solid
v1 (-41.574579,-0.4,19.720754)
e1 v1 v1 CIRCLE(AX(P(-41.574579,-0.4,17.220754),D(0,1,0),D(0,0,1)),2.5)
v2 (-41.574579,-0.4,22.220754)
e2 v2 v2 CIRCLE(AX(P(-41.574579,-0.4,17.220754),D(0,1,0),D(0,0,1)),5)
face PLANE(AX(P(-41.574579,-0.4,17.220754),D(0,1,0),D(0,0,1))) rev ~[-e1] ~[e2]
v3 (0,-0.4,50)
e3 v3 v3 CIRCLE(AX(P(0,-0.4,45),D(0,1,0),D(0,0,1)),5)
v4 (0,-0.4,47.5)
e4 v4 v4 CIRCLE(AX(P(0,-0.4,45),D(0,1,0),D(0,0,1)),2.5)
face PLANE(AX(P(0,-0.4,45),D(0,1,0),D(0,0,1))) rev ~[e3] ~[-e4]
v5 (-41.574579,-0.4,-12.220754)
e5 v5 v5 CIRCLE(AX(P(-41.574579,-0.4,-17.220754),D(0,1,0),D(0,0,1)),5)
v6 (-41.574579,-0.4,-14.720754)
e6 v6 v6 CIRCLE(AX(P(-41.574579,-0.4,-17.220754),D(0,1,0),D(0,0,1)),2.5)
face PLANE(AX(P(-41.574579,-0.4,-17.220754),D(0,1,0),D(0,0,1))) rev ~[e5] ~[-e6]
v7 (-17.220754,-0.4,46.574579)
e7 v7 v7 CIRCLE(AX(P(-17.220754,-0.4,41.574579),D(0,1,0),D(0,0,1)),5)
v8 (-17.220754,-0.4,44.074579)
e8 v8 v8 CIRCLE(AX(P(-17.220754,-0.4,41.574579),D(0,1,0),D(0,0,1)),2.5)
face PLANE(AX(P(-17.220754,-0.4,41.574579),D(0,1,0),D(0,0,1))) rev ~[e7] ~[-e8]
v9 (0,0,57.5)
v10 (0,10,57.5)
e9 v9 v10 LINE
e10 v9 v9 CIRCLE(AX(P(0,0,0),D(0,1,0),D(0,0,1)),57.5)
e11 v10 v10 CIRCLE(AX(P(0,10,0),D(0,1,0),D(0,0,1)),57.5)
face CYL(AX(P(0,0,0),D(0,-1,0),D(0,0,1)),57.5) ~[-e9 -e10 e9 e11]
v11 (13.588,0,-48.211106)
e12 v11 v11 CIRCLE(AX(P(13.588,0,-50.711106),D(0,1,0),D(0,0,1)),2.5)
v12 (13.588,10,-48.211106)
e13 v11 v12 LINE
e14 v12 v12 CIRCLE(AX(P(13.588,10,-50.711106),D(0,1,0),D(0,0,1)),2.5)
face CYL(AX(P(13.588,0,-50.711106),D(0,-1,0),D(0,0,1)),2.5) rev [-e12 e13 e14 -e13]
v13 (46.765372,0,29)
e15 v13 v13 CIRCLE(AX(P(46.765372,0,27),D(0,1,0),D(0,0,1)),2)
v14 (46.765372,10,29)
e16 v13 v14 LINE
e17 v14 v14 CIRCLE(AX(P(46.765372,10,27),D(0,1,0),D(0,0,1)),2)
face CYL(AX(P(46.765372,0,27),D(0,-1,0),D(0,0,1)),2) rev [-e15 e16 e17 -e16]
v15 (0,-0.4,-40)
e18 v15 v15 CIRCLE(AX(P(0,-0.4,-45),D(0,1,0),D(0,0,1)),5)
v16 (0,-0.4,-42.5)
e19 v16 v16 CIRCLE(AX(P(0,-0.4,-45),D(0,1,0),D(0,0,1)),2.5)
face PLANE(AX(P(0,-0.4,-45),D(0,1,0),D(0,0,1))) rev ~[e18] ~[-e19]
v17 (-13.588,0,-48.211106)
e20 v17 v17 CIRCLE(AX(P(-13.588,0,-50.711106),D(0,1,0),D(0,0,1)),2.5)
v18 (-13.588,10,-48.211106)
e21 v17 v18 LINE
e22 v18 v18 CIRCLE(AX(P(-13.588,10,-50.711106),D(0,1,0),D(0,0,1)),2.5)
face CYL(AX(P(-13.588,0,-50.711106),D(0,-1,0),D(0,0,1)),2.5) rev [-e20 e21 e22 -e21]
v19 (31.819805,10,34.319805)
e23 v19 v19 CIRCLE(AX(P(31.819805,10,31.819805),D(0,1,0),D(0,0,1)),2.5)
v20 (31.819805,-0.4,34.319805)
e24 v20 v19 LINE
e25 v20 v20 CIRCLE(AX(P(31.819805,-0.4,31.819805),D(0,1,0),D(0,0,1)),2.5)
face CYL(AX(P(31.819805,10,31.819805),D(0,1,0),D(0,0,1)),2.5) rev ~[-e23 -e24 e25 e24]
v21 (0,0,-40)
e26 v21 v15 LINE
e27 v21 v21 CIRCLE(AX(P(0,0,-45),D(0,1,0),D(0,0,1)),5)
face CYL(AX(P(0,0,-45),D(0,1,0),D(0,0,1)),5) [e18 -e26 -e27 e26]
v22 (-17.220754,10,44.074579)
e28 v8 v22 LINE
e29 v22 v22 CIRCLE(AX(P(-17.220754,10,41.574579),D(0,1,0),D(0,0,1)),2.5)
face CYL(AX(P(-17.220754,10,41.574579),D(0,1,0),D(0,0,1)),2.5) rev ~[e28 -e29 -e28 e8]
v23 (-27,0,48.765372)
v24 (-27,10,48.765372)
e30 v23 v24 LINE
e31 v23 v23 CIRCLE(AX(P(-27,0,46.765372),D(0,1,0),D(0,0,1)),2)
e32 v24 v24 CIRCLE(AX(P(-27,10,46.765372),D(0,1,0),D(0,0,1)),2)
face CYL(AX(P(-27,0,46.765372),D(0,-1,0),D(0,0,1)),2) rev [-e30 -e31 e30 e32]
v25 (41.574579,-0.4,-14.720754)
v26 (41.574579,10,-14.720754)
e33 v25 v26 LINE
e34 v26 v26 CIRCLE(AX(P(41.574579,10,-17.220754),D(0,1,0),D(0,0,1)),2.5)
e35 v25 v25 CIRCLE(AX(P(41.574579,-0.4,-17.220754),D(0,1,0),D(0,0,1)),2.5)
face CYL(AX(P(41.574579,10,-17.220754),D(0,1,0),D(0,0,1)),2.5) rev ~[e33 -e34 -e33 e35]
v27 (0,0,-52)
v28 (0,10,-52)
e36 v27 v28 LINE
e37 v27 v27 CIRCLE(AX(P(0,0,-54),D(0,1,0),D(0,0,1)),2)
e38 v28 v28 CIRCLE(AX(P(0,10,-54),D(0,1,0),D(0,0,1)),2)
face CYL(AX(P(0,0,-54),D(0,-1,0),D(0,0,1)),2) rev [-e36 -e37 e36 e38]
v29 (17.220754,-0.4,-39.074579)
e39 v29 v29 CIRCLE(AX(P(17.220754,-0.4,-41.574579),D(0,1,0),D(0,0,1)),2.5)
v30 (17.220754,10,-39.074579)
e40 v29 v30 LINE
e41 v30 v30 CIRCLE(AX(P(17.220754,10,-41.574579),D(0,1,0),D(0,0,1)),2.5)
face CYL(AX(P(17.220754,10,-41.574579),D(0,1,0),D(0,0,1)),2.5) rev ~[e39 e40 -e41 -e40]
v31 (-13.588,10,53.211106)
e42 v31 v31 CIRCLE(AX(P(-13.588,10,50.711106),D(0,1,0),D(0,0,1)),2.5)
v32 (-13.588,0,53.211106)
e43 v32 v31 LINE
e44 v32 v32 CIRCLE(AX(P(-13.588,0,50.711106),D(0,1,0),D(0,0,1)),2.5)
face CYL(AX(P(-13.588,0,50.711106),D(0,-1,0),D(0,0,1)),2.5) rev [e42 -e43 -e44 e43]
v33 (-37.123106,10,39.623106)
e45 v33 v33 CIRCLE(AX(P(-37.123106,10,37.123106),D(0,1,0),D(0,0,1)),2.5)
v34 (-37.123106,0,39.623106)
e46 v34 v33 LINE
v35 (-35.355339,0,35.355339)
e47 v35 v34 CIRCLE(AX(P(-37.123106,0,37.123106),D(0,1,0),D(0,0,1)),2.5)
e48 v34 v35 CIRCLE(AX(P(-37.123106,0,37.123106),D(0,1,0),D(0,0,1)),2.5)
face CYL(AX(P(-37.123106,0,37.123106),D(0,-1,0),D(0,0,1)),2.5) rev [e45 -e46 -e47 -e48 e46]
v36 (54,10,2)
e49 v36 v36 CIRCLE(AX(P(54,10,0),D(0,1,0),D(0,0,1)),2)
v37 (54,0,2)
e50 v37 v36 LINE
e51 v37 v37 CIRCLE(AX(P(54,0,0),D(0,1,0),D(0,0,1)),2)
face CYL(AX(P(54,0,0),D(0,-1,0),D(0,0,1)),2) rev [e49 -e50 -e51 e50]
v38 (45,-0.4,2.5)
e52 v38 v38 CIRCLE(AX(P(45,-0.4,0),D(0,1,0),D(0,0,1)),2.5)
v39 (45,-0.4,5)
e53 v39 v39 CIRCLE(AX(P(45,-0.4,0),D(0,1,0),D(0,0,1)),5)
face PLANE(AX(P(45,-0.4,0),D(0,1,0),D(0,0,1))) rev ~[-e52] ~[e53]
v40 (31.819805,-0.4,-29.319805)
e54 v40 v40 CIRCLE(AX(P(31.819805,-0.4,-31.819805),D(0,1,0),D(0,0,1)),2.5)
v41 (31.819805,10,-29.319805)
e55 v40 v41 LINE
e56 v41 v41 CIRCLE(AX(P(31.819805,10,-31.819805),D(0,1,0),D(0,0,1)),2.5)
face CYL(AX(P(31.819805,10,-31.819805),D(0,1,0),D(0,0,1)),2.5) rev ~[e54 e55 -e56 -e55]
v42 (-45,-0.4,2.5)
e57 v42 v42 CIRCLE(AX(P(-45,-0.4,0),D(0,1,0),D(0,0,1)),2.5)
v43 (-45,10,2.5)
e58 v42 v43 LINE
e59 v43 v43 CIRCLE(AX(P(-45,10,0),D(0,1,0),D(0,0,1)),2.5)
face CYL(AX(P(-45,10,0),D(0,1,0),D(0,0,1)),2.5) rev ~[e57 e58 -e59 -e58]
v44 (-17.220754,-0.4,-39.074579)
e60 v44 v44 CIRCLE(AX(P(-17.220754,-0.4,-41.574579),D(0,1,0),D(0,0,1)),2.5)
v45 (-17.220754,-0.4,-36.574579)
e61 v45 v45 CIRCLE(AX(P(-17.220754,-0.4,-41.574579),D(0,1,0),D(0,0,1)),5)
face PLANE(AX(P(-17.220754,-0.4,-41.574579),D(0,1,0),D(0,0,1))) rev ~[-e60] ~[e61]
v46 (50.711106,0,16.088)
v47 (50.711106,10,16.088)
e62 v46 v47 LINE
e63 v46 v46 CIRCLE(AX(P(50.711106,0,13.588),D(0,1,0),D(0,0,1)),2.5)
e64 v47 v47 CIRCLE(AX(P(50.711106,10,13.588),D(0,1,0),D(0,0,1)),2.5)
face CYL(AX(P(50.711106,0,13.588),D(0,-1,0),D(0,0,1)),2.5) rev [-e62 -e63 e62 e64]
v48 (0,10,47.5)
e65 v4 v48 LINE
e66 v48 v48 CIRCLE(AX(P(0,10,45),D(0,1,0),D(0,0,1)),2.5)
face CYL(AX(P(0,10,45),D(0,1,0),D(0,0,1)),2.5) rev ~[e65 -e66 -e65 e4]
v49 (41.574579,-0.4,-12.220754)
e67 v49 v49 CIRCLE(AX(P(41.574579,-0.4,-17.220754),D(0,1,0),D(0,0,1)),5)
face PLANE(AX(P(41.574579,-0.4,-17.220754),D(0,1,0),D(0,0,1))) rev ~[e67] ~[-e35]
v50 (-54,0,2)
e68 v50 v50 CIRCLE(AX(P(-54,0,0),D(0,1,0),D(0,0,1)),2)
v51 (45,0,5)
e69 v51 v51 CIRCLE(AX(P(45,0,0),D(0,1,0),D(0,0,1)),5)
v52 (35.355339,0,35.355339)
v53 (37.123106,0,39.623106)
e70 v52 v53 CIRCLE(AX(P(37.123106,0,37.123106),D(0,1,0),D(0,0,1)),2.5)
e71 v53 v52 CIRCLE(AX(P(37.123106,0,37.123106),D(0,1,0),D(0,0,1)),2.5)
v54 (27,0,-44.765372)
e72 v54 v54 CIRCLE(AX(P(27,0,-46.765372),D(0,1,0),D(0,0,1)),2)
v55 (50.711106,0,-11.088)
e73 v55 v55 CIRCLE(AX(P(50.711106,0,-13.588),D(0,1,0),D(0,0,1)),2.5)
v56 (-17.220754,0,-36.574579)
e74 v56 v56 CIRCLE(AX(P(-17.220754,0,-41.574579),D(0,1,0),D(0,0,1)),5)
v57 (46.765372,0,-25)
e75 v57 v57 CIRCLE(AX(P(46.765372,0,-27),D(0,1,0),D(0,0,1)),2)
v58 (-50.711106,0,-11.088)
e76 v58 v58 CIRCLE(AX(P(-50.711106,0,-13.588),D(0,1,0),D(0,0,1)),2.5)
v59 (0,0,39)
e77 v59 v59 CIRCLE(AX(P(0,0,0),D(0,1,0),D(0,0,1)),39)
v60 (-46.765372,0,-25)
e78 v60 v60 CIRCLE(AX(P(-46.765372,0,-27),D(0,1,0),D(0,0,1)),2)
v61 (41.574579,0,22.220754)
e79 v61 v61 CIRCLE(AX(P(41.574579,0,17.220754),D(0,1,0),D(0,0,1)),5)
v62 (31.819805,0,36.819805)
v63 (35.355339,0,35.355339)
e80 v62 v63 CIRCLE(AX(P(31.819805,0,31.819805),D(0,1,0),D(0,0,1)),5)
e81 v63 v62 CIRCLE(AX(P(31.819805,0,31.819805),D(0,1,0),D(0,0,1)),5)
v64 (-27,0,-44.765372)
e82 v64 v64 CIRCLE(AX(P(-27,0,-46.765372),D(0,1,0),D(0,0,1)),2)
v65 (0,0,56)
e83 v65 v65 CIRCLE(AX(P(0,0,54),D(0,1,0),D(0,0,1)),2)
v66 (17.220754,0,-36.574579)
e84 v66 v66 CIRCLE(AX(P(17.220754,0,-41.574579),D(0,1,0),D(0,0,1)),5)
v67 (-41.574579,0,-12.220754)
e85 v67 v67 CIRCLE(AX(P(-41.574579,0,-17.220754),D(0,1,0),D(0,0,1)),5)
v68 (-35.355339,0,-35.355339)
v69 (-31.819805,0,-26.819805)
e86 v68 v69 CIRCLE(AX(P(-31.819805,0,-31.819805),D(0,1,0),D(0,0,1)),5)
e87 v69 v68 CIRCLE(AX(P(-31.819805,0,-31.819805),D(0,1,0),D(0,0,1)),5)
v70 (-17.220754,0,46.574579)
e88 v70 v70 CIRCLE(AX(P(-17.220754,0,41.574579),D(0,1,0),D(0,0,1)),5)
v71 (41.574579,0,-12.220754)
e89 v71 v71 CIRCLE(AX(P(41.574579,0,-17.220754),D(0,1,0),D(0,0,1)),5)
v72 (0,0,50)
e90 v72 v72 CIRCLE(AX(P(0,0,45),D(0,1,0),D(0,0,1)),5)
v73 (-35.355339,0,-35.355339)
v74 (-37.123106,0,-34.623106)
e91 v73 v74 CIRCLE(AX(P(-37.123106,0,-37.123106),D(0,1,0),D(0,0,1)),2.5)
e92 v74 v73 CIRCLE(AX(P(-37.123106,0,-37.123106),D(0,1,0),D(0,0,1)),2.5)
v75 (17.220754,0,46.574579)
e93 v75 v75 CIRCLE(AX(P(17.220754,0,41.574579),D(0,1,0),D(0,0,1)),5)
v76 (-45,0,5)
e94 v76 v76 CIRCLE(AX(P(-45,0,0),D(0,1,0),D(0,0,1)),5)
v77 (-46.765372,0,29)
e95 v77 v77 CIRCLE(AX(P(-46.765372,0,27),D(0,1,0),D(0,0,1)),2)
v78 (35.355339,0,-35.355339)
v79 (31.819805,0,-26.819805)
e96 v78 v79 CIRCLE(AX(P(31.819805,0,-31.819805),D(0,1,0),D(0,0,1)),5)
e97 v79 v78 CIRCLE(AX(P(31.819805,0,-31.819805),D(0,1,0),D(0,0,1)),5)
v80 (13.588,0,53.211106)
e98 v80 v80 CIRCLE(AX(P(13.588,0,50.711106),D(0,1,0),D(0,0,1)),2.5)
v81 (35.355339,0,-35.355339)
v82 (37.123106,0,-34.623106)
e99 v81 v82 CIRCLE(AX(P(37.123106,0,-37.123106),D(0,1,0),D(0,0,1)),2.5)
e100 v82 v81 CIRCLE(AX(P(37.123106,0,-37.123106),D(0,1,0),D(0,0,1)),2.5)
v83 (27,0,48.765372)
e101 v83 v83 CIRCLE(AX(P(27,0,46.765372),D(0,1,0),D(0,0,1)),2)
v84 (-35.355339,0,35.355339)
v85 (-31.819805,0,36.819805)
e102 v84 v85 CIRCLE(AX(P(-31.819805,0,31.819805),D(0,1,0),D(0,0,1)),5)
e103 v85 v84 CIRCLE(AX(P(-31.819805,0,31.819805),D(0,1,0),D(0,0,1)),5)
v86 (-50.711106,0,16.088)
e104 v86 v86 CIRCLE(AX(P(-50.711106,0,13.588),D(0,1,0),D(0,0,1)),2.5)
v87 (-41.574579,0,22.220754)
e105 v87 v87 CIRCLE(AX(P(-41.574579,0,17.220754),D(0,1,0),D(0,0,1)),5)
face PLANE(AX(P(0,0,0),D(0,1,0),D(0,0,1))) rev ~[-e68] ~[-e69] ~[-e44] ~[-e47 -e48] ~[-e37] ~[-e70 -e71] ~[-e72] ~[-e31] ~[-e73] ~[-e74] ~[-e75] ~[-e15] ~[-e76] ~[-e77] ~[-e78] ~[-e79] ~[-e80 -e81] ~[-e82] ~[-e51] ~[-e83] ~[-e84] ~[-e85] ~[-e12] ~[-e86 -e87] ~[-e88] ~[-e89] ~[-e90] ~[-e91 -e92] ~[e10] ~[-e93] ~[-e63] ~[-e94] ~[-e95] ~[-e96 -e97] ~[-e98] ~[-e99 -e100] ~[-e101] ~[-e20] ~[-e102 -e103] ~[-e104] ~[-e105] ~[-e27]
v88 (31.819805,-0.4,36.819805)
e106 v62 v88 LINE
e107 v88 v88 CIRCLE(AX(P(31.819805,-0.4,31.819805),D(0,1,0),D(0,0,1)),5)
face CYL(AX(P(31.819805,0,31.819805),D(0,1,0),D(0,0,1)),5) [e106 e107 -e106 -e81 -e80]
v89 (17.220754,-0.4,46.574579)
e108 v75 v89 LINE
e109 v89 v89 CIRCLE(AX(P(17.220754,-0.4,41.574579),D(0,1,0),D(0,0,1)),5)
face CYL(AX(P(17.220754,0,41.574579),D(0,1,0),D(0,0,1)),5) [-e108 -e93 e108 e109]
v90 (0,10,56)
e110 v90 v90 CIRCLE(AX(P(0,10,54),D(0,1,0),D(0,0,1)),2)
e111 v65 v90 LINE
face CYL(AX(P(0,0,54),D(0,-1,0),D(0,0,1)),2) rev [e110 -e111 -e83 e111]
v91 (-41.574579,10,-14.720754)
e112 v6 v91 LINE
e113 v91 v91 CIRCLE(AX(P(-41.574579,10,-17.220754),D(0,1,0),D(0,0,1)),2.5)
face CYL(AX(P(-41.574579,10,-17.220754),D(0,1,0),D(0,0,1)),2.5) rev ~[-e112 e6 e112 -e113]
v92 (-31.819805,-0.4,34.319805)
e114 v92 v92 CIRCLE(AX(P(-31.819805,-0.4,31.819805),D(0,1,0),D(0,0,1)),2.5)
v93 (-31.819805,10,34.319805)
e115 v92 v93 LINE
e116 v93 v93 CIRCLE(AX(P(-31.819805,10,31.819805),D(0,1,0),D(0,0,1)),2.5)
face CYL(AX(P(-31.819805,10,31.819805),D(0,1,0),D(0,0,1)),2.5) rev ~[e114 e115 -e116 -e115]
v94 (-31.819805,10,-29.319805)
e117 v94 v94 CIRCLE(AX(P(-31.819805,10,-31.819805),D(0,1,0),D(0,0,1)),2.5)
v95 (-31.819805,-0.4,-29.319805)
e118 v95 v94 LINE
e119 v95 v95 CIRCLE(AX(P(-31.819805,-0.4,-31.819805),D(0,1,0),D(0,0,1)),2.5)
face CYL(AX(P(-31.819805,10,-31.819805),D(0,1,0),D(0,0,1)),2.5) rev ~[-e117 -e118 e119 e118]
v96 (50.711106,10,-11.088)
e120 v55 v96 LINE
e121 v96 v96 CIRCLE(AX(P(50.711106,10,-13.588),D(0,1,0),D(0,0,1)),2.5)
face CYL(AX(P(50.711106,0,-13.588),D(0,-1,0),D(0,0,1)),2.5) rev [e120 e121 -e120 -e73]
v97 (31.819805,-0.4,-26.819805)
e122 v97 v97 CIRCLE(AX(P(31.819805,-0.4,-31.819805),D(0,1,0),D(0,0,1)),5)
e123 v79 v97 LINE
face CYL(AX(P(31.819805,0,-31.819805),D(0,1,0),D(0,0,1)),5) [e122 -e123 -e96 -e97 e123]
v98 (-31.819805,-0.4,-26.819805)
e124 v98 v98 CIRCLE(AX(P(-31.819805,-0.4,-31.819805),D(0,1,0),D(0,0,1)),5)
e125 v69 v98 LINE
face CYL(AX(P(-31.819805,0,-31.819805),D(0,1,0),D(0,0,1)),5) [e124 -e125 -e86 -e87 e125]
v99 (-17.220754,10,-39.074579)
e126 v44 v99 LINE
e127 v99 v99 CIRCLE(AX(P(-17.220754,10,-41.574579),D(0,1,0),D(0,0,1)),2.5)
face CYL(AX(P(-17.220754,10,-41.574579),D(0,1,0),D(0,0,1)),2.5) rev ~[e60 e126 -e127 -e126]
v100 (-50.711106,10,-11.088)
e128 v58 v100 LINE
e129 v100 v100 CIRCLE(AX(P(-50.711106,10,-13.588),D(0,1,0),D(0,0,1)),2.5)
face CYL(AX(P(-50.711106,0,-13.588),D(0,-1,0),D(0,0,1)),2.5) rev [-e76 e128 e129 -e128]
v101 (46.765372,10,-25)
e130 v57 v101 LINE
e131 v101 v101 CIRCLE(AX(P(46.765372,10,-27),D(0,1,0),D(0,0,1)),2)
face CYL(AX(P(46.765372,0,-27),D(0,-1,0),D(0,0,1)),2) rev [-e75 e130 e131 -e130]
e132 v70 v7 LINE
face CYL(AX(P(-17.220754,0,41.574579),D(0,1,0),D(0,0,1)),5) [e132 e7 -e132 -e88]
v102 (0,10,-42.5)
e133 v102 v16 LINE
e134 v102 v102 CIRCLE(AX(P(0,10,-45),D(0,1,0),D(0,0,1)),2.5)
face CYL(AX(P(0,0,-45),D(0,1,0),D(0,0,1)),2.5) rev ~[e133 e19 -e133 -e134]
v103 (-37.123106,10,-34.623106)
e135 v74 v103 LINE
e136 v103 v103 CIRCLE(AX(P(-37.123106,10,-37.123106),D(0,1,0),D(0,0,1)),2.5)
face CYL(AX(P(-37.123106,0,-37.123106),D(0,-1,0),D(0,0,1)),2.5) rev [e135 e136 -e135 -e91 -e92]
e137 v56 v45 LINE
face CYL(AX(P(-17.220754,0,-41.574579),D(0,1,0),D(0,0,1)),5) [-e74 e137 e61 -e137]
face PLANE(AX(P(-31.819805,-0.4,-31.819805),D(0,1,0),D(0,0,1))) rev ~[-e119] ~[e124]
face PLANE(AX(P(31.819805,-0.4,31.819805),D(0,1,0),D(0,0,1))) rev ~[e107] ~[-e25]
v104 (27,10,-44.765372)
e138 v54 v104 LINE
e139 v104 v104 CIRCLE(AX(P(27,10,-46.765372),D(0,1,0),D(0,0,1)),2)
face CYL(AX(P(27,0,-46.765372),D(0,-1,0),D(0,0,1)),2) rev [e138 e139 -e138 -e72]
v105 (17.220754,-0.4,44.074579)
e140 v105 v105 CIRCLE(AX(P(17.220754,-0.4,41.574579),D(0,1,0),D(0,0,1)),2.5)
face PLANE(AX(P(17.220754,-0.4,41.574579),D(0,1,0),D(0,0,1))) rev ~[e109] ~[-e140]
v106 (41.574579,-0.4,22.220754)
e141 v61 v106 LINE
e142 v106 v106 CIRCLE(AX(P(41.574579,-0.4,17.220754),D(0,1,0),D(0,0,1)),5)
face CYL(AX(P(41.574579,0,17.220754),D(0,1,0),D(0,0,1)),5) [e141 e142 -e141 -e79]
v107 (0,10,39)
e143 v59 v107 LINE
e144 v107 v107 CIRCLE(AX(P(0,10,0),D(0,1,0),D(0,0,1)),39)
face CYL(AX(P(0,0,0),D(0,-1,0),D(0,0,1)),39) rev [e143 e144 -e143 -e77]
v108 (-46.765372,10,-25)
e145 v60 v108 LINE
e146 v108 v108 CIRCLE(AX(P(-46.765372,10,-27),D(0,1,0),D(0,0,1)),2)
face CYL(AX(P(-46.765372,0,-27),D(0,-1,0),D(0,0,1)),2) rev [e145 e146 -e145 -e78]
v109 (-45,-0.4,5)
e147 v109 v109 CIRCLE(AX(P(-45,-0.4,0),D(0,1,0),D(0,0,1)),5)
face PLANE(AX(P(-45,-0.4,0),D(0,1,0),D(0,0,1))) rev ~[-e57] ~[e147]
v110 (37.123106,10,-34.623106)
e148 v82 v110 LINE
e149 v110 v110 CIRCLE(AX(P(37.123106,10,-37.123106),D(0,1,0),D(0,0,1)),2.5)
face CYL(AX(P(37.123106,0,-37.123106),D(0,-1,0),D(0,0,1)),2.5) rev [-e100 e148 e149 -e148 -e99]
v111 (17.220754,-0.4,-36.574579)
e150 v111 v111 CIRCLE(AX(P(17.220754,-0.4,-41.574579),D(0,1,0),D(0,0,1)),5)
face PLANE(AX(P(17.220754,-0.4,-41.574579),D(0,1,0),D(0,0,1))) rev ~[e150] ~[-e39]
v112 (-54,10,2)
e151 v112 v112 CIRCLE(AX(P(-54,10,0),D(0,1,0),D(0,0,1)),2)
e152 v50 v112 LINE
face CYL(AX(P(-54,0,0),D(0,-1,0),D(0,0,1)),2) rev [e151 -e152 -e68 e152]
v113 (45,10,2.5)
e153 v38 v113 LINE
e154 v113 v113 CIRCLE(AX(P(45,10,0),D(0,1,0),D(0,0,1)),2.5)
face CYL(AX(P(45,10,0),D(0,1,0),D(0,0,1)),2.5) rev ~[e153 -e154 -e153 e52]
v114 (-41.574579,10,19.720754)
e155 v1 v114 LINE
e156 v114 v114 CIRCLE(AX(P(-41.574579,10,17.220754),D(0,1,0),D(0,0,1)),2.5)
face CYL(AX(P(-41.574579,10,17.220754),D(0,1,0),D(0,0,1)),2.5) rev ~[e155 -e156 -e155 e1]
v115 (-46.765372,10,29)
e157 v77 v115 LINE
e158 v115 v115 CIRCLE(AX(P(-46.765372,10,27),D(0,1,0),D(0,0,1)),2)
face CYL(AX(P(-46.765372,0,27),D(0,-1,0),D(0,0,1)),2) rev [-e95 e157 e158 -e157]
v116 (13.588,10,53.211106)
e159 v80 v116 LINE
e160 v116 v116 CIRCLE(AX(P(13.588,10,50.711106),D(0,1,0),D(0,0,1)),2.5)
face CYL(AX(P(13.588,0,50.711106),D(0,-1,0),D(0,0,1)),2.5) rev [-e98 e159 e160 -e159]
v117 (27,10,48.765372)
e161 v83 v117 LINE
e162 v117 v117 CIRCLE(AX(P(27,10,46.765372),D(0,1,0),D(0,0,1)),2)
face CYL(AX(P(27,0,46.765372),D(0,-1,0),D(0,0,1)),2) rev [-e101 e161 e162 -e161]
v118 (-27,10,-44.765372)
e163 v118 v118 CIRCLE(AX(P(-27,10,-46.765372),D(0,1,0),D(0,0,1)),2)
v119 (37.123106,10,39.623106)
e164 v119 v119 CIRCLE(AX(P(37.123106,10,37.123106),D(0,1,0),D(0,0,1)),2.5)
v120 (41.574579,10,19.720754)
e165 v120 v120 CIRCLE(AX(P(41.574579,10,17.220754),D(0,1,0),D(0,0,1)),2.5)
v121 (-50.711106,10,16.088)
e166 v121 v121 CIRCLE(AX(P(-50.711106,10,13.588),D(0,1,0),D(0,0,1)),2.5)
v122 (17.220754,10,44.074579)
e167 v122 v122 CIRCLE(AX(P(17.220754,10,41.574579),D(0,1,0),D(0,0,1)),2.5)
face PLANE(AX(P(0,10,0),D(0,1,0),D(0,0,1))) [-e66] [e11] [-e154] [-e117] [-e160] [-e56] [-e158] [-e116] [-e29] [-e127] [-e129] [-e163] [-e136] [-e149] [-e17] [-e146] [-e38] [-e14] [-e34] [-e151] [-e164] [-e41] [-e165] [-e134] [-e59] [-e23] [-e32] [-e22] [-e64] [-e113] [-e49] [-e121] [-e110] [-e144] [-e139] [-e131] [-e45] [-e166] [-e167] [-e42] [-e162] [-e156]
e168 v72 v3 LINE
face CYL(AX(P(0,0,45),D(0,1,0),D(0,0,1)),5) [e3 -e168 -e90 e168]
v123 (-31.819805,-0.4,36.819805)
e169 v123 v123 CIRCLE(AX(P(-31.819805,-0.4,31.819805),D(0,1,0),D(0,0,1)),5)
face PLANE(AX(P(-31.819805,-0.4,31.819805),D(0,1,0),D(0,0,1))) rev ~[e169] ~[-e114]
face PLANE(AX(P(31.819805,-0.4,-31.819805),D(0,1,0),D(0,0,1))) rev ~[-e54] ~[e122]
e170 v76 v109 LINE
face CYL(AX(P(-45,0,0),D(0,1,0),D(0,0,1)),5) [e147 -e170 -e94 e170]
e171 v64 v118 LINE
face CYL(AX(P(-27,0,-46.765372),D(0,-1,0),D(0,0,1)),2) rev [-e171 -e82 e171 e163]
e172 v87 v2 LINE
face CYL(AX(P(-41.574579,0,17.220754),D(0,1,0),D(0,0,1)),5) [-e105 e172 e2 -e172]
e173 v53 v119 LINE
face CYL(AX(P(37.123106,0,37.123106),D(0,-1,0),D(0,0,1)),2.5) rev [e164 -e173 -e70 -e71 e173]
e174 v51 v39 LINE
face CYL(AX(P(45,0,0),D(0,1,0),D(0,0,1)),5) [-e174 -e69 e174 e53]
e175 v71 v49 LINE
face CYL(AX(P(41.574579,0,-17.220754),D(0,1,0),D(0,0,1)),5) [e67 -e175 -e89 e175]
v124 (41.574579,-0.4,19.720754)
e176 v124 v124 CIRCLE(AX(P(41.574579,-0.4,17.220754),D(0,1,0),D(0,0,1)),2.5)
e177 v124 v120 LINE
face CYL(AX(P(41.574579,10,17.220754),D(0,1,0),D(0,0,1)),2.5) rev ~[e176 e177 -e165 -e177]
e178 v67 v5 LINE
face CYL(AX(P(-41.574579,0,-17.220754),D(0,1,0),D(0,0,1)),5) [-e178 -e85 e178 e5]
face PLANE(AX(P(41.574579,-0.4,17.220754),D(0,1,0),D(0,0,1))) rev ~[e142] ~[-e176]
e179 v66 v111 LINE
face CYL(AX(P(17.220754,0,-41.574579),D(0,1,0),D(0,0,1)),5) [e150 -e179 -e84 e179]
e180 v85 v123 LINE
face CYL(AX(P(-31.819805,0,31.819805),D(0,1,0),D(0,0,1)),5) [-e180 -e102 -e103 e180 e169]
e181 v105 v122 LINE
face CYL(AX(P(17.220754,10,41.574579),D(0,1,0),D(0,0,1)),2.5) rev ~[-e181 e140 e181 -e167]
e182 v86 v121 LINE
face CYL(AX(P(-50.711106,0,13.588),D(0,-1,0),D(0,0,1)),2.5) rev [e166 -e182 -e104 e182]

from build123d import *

# Parameters (mm, degrees)
SKETCH1_R           = 57.5
SKETCH1_R_2         = 39
SKETCH1_R_3         = 2
SKETCH1_R_4         = 2.5
BOSS_EXTRUDE1_DEPTH = 10
SKETCH2_R           = 2.5
CUT_EXTRUDE1_DEPTH  = 10
SKETCH4_R           = 5
SKETCH4_R_2         = 2.5
BOSS_EXTRUDE3_DEPTH = 0.4


with BuildPart() as part:
    # Sketch1 → Boss-Extrude1 (new body)
    with BuildSketch(Plane(origin=(0, 0, 0), x_dir=(1, 0, 0), z_dir=(0, 1, 0))):
        with Locations(Location((0, 0, 0), (0, 0, 270))):
            Circle(SKETCH1_R)
        with Locations(Location((0, 0, 0), (0, 0, 270))):
            Circle(SKETCH1_R_2, mode=Mode.SUBTRACT)
        with Locations(Location((0, 54, 0), (0, 0, 270))):
            Circle(SKETCH1_R_3, mode=Mode.SUBTRACT)
        with Locations(Location((27, 46.765371804, 0), (0, 0, 270))):
            Circle(SKETCH1_R_3, mode=Mode.SUBTRACT)
        with Locations(Location((46.765371804, 27, 0), (0, 0, 270))):
            Circle(SKETCH1_R_3, mode=Mode.SUBTRACT)
        with Locations(Location((54, 0, 0), (0, 0, 270))):
            Circle(SKETCH1_R_3, mode=Mode.SUBTRACT)
        with Locations(Location((46.765371804, -27, 0), (0, 0, 270))):
            Circle(SKETCH1_R_3, mode=Mode.SUBTRACT)
        with Locations(Location((27, -46.765371804, 0), (0, 0, 270))):
            Circle(SKETCH1_R_3, mode=Mode.SUBTRACT)
        with Locations(Location((0, -54, 0), (0, 0, 270))):
            Circle(SKETCH1_R_3, mode=Mode.SUBTRACT)
        with Locations(Location((-27, -46.765371804, 0), (0, 0, 270))):
            Circle(SKETCH1_R_3, mode=Mode.SUBTRACT)
        with Locations(Location((-46.765371804, -27, 0), (0, 0, 270))):
            Circle(SKETCH1_R_3, mode=Mode.SUBTRACT)
        with Locations(Location((-54, 0, 0), (0, 0, 270))):
            Circle(SKETCH1_R_3, mode=Mode.SUBTRACT)
        with Locations(Location((-46.765371804, 27, 0), (0, 0, 270))):
            Circle(SKETCH1_R_3, mode=Mode.SUBTRACT)
        with Locations(Location((-27, 46.765371804, 0), (0, 0, 270))):
            Circle(SKETCH1_R_3, mode=Mode.SUBTRACT)
        with Locations(Location((13.587999868, 50.71110588, 0), (0, 0, 270))):
            Circle(SKETCH1_R_4, mode=Mode.SUBTRACT)
        with Locations(Location((37.123106012, 37.123106012, 0), (0, 0, 270))):
            Circle(SKETCH1_R_4, mode=Mode.SUBTRACT)
        with Locations(Location((50.71110588, 13.587999868, 0), (0, 0, 270))):
            Circle(SKETCH1_R_4, mode=Mode.SUBTRACT)
        with Locations(Location((50.71110588, -13.587999868, 0), (0, 0, 270))):
            Circle(SKETCH1_R_4, mode=Mode.SUBTRACT)
        with Locations(Location((37.123106012, -37.123106012, 0), (0, 0, 270))):
            Circle(SKETCH1_R_4, mode=Mode.SUBTRACT)
        with Locations(Location((13.587999868, -50.71110588, 0), (0, 0, 270))):
            Circle(SKETCH1_R_4, mode=Mode.SUBTRACT)
        with Locations(Location((-13.587999868, -50.71110588, 0), (0, 0, 270))):
            Circle(SKETCH1_R_4, mode=Mode.SUBTRACT)
        with Locations(Location((-37.123106012, -37.123106012, 0), (0, 0, 270))):
            Circle(SKETCH1_R_4, mode=Mode.SUBTRACT)
        with Locations(Location((-50.71110588, -13.587999868, 0), (0, 0, 270))):
            Circle(SKETCH1_R_4, mode=Mode.SUBTRACT)
        with Locations(Location((-50.71110588, 13.587999868, 0), (0, 0, 270))):
            Circle(SKETCH1_R_4, mode=Mode.SUBTRACT)
        with Locations(Location((-37.123106012, 37.123106012, 0), (0, 0, 270))):
            Circle(SKETCH1_R_4, mode=Mode.SUBTRACT)
        with Locations(Location((-13.587999868, 50.71110588, 0), (0, 0, 270))):
            Circle(SKETCH1_R_4, mode=Mode.SUBTRACT)
    extrude(amount=BOSS_EXTRUDE1_DEPTH)

    # Sketch2 → Cut-Extrude1 (cut)
    with BuildSketch(Plane(origin=(0, 10, 0), x_dir=(1, 0, 0), z_dir=(0, 1, 0))):
        with Locations(Location((0, 45, 0), (0, 0, 270))):
            Circle(SKETCH2_R)
        with Locations(Location((17.220754456, 41.574578963, 0), (0, 0, 270))):
            Circle(SKETCH2_R)
        with Locations(Location((31.819805153, 31.819805153, 0), (0, 0, 270))):
            Circle(SKETCH2_R)
        with Locations(Location((41.574578963, 17.220754456, 0), (0, 0, 270))):
            Circle(SKETCH2_R)
        with Locations(Location((45, 0, 0), (0, 0, 270))):
            Circle(SKETCH2_R)
        with Locations(Location((41.574578963, -17.220754456, 0), (0, 0, 270))):
            Circle(SKETCH2_R)
        with Locations(Location((31.819805153, -31.819805153, 0), (0, 0, 270))):
            Circle(SKETCH2_R)
        with Locations(Location((17.220754456, -41.574578963, 0), (0, 0, 270))):
            Circle(SKETCH2_R)
        with Locations(Location((0, -45, 0), (0, 0, 270))):
            Circle(SKETCH2_R)
        with Locations(Location((-17.220754456, -41.574578963, 0), (0, 0, 270))):
            Circle(SKETCH2_R)
        with Locations(Location((-31.819805153, -31.819805153, 0), (0, 0, 270))):
            Circle(SKETCH2_R)
        with Locations(Location((-41.574578963, -17.220754456, 0), (0, 0, 270))):
            Circle(SKETCH2_R)
        with Locations(Location((-45, 0, 0), (0, 0, 270))):
            Circle(SKETCH2_R)
        with Locations(Location((-41.574578963, 17.220754456, 0), (0, 0, 270))):
            Circle(SKETCH2_R)
        with Locations(Location((-31.819805153, 31.819805153, 0), (0, 0, 270))):
            Circle(SKETCH2_R)
        with Locations(Location((-17.220754456, 41.574578963, 0), (0, 0, 270))):
            Circle(SKETCH2_R)
    extrude(amount=-CUT_EXTRUDE1_DEPTH, mode=Mode.SUBTRACT)

    # Sketch4 → Boss-Extrude3 (add)
    # profile 1 of 16: a face of its own
    with BuildSketch(Plane(origin=(0, 0, 0), x_dir=(1, 0, 0), z_dir=(0, 1, 0))):
        with Locations(Location((0, 45, 0), (0, 0, 270))):
            Circle(SKETCH4_R)
        with Locations(Location((0, 45, 0), (0, 0, 270))):
            Circle(SKETCH4_R_2, mode=Mode.SUBTRACT)
    # profile 2 of 16: a face of its own
    with BuildSketch(Plane(origin=(0, 0, 0), x_dir=(1, 0, 0), z_dir=(0, 1, 0))):
        with Locations(Location((17.220754456, 41.574578963, 0), (0, 0, 270))):
            Circle(SKETCH4_R)
        with Locations(Location((17.220754456, 41.574578963, 0), (0, 0, 270))):
            Circle(SKETCH4_R_2, mode=Mode.SUBTRACT)
    # profile 3 of 16: a face of its own
    with BuildSketch(Plane(origin=(0, 0, 0), x_dir=(1, 0, 0), z_dir=(0, 1, 0))):
        with Locations(Location((31.819805153, 31.819805153, 0), (0, 0, 270))):
            Circle(SKETCH4_R)
        with Locations(Location((31.819805153, 31.819805153, 0), (0, 0, 270))):
            Circle(SKETCH4_R_2, mode=Mode.SUBTRACT)
    # profile 4 of 16: a face of its own
    with BuildSketch(Plane(origin=(0, 0, 0), x_dir=(1, 0, 0), z_dir=(0, 1, 0))):
        with Locations(Location((41.574578963, 17.220754456, 0), (0, 0, 270))):
            Circle(SKETCH4_R)
        with Locations(Location((41.574578963, 17.220754456, 0), (0, 0, 270))):
            Circle(SKETCH4_R_2, mode=Mode.SUBTRACT)
    # profile 5 of 16: a face of its own
    with BuildSketch(Plane(origin=(0, 0, 0), x_dir=(1, 0, 0), z_dir=(0, 1, 0))):
        with Locations(Location((45, 0, 0), (0, 0, 270))):
            Circle(SKETCH4_R)
        with Locations(Location((45, 0, 0), (0, 0, 270))):
            Circle(SKETCH4_R_2, mode=Mode.SUBTRACT)
    # profile 6 of 16: a face of its own
    with BuildSketch(Plane(origin=(0, 0, 0), x_dir=(1, 0, 0), z_dir=(0, 1, 0))):
        with Locations(Location((41.574578963, -17.220754456, 0), (0, 0, 270))):
            Circle(SKETCH4_R)
        with Locations(Location((41.574578963, -17.220754456, 0), (0, 0, 270))):
            Circle(SKETCH4_R_2, mode=Mode.SUBTRACT)
    # profile 7 of 16: a face of its own
    with BuildSketch(Plane(origin=(0, 0, 0), x_dir=(1, 0, 0), z_dir=(0, 1, 0))):
        with Locations(Location((31.819805153, -31.819805153, 0), (0, 0, 270))):
            Circle(SKETCH4_R)
        with Locations(Location((31.819805153, -31.819805153, 0), (0, 0, 270))):
            Circle(SKETCH4_R_2, mode=Mode.SUBTRACT)
    # profile 8 of 16: a face of its own
    with BuildSketch(Plane(origin=(0, 0, 0), x_dir=(1, 0, 0), z_dir=(0, 1, 0))):
        with Locations(Location((17.220754456, -41.574578963, 0), (0, 0, 270))):
            Circle(SKETCH4_R)
        with Locations(Location((17.220754456, -41.574578963, 0), (0, 0, 270))):
            Circle(SKETCH4_R_2, mode=Mode.SUBTRACT)
    # profile 9 of 16: a face of its own
    with BuildSketch(Plane(origin=(0, 0, 0), x_dir=(1, 0, 0), z_dir=(0, 1, 0))):
        with Locations(Location((0, -45, 0), (0, 0, 270))):
            Circle(SKETCH4_R)
        with Locations(Location((0, -45, 0), (0, 0, 270))):
            Circle(SKETCH4_R_2, mode=Mode.SUBTRACT)
    # profile 10 of 16: a face of its own
    with BuildSketch(Plane(origin=(0, 0, 0), x_dir=(1, 0, 0), z_dir=(0, 1, 0))):
        with Locations(Location((-17.220754456, -41.574578963, 0), (0, 0, 270))):
            Circle(SKETCH4_R)
        with Locations(Location((-17.220754456, -41.574578963, 0), (0, 0, 270))):
            Circle(SKETCH4_R_2, mode=Mode.SUBTRACT)
    # profile 11 of 16: a face of its own
    with BuildSketch(Plane(origin=(0, 0, 0), x_dir=(1, 0, 0), z_dir=(0, 1, 0))):
        with Locations(Location((-31.819805153, -31.819805153, 0), (0, 0, 270))):
            Circle(SKETCH4_R)
        with Locations(Location((-31.819805153, -31.819805153, 0), (0, 0, 270))):
            Circle(SKETCH4_R_2, mode=Mode.SUBTRACT)
    # profile 12 of 16: a face of its own
    with BuildSketch(Plane(origin=(0, 0, 0), x_dir=(1, 0, 0), z_dir=(0, 1, 0))):
        with Locations(Location((-41.574578963, -17.220754456, 0), (0, 0, 270))):
            Circle(SKETCH4_R)
        with Locations(Location((-41.574578963, -17.220754456, 0), (0, 0, 270))):
            Circle(SKETCH4_R_2, mode=Mode.SUBTRACT)
    # profile 13 of 16: a face of its own
    with BuildSketch(Plane(origin=(0, 0, 0), x_dir=(1, 0, 0), z_dir=(0, 1, 0))):
        with Locations(Location((-45, 0, 0), (0, 0, 270))):
            Circle(SKETCH4_R)
        with Locations(Location((-45, 0, 0), (0, 0, 270))):
            Circle(SKETCH4_R_2, mode=Mode.SUBTRACT)
    # profile 14 of 16: a face of its own
    with BuildSketch(Plane(origin=(0, 0, 0), x_dir=(1, 0, 0), z_dir=(0, 1, 0))):
        with Locations(Location((-41.574578963, 17.220754456, 0), (0, 0, 270))):
            Circle(SKETCH4_R)
        with Locations(Location((-41.574578963, 17.220754456, 0), (0, 0, 270))):
            Circle(SKETCH4_R_2, mode=Mode.SUBTRACT)
    # profile 15 of 16: a face of its own
    with BuildSketch(Plane(origin=(0, 0, 0), x_dir=(1, 0, 0), z_dir=(0, 1, 0))):
        with Locations(Location((-31.819805153, 31.819805153, 0), (0, 0, 270))):
            Circle(SKETCH4_R)
        with Locations(Location((-31.819805153, 31.819805153, 0), (0, 0, 270))):
            Circle(SKETCH4_R_2, mode=Mode.SUBTRACT)
    # profile 16 of 16: a face of its own
    with BuildSketch(Plane(origin=(0, 0, 0), x_dir=(1, 0, 0), z_dir=(0, 1, 0))):
        with Locations(Location((-17.220754456, 41.574578963, 0), (0, 0, 270))):
            Circle(SKETCH4_R)
        with Locations(Location((-17.220754456, 41.574578963, 0), (0, 0, 270))):
            Circle(SKETCH4_R_2, mode=Mode.SUBTRACT)
    extrude(amount=-BOSS_EXTRUDE3_DEPTH)


solid = part.part
